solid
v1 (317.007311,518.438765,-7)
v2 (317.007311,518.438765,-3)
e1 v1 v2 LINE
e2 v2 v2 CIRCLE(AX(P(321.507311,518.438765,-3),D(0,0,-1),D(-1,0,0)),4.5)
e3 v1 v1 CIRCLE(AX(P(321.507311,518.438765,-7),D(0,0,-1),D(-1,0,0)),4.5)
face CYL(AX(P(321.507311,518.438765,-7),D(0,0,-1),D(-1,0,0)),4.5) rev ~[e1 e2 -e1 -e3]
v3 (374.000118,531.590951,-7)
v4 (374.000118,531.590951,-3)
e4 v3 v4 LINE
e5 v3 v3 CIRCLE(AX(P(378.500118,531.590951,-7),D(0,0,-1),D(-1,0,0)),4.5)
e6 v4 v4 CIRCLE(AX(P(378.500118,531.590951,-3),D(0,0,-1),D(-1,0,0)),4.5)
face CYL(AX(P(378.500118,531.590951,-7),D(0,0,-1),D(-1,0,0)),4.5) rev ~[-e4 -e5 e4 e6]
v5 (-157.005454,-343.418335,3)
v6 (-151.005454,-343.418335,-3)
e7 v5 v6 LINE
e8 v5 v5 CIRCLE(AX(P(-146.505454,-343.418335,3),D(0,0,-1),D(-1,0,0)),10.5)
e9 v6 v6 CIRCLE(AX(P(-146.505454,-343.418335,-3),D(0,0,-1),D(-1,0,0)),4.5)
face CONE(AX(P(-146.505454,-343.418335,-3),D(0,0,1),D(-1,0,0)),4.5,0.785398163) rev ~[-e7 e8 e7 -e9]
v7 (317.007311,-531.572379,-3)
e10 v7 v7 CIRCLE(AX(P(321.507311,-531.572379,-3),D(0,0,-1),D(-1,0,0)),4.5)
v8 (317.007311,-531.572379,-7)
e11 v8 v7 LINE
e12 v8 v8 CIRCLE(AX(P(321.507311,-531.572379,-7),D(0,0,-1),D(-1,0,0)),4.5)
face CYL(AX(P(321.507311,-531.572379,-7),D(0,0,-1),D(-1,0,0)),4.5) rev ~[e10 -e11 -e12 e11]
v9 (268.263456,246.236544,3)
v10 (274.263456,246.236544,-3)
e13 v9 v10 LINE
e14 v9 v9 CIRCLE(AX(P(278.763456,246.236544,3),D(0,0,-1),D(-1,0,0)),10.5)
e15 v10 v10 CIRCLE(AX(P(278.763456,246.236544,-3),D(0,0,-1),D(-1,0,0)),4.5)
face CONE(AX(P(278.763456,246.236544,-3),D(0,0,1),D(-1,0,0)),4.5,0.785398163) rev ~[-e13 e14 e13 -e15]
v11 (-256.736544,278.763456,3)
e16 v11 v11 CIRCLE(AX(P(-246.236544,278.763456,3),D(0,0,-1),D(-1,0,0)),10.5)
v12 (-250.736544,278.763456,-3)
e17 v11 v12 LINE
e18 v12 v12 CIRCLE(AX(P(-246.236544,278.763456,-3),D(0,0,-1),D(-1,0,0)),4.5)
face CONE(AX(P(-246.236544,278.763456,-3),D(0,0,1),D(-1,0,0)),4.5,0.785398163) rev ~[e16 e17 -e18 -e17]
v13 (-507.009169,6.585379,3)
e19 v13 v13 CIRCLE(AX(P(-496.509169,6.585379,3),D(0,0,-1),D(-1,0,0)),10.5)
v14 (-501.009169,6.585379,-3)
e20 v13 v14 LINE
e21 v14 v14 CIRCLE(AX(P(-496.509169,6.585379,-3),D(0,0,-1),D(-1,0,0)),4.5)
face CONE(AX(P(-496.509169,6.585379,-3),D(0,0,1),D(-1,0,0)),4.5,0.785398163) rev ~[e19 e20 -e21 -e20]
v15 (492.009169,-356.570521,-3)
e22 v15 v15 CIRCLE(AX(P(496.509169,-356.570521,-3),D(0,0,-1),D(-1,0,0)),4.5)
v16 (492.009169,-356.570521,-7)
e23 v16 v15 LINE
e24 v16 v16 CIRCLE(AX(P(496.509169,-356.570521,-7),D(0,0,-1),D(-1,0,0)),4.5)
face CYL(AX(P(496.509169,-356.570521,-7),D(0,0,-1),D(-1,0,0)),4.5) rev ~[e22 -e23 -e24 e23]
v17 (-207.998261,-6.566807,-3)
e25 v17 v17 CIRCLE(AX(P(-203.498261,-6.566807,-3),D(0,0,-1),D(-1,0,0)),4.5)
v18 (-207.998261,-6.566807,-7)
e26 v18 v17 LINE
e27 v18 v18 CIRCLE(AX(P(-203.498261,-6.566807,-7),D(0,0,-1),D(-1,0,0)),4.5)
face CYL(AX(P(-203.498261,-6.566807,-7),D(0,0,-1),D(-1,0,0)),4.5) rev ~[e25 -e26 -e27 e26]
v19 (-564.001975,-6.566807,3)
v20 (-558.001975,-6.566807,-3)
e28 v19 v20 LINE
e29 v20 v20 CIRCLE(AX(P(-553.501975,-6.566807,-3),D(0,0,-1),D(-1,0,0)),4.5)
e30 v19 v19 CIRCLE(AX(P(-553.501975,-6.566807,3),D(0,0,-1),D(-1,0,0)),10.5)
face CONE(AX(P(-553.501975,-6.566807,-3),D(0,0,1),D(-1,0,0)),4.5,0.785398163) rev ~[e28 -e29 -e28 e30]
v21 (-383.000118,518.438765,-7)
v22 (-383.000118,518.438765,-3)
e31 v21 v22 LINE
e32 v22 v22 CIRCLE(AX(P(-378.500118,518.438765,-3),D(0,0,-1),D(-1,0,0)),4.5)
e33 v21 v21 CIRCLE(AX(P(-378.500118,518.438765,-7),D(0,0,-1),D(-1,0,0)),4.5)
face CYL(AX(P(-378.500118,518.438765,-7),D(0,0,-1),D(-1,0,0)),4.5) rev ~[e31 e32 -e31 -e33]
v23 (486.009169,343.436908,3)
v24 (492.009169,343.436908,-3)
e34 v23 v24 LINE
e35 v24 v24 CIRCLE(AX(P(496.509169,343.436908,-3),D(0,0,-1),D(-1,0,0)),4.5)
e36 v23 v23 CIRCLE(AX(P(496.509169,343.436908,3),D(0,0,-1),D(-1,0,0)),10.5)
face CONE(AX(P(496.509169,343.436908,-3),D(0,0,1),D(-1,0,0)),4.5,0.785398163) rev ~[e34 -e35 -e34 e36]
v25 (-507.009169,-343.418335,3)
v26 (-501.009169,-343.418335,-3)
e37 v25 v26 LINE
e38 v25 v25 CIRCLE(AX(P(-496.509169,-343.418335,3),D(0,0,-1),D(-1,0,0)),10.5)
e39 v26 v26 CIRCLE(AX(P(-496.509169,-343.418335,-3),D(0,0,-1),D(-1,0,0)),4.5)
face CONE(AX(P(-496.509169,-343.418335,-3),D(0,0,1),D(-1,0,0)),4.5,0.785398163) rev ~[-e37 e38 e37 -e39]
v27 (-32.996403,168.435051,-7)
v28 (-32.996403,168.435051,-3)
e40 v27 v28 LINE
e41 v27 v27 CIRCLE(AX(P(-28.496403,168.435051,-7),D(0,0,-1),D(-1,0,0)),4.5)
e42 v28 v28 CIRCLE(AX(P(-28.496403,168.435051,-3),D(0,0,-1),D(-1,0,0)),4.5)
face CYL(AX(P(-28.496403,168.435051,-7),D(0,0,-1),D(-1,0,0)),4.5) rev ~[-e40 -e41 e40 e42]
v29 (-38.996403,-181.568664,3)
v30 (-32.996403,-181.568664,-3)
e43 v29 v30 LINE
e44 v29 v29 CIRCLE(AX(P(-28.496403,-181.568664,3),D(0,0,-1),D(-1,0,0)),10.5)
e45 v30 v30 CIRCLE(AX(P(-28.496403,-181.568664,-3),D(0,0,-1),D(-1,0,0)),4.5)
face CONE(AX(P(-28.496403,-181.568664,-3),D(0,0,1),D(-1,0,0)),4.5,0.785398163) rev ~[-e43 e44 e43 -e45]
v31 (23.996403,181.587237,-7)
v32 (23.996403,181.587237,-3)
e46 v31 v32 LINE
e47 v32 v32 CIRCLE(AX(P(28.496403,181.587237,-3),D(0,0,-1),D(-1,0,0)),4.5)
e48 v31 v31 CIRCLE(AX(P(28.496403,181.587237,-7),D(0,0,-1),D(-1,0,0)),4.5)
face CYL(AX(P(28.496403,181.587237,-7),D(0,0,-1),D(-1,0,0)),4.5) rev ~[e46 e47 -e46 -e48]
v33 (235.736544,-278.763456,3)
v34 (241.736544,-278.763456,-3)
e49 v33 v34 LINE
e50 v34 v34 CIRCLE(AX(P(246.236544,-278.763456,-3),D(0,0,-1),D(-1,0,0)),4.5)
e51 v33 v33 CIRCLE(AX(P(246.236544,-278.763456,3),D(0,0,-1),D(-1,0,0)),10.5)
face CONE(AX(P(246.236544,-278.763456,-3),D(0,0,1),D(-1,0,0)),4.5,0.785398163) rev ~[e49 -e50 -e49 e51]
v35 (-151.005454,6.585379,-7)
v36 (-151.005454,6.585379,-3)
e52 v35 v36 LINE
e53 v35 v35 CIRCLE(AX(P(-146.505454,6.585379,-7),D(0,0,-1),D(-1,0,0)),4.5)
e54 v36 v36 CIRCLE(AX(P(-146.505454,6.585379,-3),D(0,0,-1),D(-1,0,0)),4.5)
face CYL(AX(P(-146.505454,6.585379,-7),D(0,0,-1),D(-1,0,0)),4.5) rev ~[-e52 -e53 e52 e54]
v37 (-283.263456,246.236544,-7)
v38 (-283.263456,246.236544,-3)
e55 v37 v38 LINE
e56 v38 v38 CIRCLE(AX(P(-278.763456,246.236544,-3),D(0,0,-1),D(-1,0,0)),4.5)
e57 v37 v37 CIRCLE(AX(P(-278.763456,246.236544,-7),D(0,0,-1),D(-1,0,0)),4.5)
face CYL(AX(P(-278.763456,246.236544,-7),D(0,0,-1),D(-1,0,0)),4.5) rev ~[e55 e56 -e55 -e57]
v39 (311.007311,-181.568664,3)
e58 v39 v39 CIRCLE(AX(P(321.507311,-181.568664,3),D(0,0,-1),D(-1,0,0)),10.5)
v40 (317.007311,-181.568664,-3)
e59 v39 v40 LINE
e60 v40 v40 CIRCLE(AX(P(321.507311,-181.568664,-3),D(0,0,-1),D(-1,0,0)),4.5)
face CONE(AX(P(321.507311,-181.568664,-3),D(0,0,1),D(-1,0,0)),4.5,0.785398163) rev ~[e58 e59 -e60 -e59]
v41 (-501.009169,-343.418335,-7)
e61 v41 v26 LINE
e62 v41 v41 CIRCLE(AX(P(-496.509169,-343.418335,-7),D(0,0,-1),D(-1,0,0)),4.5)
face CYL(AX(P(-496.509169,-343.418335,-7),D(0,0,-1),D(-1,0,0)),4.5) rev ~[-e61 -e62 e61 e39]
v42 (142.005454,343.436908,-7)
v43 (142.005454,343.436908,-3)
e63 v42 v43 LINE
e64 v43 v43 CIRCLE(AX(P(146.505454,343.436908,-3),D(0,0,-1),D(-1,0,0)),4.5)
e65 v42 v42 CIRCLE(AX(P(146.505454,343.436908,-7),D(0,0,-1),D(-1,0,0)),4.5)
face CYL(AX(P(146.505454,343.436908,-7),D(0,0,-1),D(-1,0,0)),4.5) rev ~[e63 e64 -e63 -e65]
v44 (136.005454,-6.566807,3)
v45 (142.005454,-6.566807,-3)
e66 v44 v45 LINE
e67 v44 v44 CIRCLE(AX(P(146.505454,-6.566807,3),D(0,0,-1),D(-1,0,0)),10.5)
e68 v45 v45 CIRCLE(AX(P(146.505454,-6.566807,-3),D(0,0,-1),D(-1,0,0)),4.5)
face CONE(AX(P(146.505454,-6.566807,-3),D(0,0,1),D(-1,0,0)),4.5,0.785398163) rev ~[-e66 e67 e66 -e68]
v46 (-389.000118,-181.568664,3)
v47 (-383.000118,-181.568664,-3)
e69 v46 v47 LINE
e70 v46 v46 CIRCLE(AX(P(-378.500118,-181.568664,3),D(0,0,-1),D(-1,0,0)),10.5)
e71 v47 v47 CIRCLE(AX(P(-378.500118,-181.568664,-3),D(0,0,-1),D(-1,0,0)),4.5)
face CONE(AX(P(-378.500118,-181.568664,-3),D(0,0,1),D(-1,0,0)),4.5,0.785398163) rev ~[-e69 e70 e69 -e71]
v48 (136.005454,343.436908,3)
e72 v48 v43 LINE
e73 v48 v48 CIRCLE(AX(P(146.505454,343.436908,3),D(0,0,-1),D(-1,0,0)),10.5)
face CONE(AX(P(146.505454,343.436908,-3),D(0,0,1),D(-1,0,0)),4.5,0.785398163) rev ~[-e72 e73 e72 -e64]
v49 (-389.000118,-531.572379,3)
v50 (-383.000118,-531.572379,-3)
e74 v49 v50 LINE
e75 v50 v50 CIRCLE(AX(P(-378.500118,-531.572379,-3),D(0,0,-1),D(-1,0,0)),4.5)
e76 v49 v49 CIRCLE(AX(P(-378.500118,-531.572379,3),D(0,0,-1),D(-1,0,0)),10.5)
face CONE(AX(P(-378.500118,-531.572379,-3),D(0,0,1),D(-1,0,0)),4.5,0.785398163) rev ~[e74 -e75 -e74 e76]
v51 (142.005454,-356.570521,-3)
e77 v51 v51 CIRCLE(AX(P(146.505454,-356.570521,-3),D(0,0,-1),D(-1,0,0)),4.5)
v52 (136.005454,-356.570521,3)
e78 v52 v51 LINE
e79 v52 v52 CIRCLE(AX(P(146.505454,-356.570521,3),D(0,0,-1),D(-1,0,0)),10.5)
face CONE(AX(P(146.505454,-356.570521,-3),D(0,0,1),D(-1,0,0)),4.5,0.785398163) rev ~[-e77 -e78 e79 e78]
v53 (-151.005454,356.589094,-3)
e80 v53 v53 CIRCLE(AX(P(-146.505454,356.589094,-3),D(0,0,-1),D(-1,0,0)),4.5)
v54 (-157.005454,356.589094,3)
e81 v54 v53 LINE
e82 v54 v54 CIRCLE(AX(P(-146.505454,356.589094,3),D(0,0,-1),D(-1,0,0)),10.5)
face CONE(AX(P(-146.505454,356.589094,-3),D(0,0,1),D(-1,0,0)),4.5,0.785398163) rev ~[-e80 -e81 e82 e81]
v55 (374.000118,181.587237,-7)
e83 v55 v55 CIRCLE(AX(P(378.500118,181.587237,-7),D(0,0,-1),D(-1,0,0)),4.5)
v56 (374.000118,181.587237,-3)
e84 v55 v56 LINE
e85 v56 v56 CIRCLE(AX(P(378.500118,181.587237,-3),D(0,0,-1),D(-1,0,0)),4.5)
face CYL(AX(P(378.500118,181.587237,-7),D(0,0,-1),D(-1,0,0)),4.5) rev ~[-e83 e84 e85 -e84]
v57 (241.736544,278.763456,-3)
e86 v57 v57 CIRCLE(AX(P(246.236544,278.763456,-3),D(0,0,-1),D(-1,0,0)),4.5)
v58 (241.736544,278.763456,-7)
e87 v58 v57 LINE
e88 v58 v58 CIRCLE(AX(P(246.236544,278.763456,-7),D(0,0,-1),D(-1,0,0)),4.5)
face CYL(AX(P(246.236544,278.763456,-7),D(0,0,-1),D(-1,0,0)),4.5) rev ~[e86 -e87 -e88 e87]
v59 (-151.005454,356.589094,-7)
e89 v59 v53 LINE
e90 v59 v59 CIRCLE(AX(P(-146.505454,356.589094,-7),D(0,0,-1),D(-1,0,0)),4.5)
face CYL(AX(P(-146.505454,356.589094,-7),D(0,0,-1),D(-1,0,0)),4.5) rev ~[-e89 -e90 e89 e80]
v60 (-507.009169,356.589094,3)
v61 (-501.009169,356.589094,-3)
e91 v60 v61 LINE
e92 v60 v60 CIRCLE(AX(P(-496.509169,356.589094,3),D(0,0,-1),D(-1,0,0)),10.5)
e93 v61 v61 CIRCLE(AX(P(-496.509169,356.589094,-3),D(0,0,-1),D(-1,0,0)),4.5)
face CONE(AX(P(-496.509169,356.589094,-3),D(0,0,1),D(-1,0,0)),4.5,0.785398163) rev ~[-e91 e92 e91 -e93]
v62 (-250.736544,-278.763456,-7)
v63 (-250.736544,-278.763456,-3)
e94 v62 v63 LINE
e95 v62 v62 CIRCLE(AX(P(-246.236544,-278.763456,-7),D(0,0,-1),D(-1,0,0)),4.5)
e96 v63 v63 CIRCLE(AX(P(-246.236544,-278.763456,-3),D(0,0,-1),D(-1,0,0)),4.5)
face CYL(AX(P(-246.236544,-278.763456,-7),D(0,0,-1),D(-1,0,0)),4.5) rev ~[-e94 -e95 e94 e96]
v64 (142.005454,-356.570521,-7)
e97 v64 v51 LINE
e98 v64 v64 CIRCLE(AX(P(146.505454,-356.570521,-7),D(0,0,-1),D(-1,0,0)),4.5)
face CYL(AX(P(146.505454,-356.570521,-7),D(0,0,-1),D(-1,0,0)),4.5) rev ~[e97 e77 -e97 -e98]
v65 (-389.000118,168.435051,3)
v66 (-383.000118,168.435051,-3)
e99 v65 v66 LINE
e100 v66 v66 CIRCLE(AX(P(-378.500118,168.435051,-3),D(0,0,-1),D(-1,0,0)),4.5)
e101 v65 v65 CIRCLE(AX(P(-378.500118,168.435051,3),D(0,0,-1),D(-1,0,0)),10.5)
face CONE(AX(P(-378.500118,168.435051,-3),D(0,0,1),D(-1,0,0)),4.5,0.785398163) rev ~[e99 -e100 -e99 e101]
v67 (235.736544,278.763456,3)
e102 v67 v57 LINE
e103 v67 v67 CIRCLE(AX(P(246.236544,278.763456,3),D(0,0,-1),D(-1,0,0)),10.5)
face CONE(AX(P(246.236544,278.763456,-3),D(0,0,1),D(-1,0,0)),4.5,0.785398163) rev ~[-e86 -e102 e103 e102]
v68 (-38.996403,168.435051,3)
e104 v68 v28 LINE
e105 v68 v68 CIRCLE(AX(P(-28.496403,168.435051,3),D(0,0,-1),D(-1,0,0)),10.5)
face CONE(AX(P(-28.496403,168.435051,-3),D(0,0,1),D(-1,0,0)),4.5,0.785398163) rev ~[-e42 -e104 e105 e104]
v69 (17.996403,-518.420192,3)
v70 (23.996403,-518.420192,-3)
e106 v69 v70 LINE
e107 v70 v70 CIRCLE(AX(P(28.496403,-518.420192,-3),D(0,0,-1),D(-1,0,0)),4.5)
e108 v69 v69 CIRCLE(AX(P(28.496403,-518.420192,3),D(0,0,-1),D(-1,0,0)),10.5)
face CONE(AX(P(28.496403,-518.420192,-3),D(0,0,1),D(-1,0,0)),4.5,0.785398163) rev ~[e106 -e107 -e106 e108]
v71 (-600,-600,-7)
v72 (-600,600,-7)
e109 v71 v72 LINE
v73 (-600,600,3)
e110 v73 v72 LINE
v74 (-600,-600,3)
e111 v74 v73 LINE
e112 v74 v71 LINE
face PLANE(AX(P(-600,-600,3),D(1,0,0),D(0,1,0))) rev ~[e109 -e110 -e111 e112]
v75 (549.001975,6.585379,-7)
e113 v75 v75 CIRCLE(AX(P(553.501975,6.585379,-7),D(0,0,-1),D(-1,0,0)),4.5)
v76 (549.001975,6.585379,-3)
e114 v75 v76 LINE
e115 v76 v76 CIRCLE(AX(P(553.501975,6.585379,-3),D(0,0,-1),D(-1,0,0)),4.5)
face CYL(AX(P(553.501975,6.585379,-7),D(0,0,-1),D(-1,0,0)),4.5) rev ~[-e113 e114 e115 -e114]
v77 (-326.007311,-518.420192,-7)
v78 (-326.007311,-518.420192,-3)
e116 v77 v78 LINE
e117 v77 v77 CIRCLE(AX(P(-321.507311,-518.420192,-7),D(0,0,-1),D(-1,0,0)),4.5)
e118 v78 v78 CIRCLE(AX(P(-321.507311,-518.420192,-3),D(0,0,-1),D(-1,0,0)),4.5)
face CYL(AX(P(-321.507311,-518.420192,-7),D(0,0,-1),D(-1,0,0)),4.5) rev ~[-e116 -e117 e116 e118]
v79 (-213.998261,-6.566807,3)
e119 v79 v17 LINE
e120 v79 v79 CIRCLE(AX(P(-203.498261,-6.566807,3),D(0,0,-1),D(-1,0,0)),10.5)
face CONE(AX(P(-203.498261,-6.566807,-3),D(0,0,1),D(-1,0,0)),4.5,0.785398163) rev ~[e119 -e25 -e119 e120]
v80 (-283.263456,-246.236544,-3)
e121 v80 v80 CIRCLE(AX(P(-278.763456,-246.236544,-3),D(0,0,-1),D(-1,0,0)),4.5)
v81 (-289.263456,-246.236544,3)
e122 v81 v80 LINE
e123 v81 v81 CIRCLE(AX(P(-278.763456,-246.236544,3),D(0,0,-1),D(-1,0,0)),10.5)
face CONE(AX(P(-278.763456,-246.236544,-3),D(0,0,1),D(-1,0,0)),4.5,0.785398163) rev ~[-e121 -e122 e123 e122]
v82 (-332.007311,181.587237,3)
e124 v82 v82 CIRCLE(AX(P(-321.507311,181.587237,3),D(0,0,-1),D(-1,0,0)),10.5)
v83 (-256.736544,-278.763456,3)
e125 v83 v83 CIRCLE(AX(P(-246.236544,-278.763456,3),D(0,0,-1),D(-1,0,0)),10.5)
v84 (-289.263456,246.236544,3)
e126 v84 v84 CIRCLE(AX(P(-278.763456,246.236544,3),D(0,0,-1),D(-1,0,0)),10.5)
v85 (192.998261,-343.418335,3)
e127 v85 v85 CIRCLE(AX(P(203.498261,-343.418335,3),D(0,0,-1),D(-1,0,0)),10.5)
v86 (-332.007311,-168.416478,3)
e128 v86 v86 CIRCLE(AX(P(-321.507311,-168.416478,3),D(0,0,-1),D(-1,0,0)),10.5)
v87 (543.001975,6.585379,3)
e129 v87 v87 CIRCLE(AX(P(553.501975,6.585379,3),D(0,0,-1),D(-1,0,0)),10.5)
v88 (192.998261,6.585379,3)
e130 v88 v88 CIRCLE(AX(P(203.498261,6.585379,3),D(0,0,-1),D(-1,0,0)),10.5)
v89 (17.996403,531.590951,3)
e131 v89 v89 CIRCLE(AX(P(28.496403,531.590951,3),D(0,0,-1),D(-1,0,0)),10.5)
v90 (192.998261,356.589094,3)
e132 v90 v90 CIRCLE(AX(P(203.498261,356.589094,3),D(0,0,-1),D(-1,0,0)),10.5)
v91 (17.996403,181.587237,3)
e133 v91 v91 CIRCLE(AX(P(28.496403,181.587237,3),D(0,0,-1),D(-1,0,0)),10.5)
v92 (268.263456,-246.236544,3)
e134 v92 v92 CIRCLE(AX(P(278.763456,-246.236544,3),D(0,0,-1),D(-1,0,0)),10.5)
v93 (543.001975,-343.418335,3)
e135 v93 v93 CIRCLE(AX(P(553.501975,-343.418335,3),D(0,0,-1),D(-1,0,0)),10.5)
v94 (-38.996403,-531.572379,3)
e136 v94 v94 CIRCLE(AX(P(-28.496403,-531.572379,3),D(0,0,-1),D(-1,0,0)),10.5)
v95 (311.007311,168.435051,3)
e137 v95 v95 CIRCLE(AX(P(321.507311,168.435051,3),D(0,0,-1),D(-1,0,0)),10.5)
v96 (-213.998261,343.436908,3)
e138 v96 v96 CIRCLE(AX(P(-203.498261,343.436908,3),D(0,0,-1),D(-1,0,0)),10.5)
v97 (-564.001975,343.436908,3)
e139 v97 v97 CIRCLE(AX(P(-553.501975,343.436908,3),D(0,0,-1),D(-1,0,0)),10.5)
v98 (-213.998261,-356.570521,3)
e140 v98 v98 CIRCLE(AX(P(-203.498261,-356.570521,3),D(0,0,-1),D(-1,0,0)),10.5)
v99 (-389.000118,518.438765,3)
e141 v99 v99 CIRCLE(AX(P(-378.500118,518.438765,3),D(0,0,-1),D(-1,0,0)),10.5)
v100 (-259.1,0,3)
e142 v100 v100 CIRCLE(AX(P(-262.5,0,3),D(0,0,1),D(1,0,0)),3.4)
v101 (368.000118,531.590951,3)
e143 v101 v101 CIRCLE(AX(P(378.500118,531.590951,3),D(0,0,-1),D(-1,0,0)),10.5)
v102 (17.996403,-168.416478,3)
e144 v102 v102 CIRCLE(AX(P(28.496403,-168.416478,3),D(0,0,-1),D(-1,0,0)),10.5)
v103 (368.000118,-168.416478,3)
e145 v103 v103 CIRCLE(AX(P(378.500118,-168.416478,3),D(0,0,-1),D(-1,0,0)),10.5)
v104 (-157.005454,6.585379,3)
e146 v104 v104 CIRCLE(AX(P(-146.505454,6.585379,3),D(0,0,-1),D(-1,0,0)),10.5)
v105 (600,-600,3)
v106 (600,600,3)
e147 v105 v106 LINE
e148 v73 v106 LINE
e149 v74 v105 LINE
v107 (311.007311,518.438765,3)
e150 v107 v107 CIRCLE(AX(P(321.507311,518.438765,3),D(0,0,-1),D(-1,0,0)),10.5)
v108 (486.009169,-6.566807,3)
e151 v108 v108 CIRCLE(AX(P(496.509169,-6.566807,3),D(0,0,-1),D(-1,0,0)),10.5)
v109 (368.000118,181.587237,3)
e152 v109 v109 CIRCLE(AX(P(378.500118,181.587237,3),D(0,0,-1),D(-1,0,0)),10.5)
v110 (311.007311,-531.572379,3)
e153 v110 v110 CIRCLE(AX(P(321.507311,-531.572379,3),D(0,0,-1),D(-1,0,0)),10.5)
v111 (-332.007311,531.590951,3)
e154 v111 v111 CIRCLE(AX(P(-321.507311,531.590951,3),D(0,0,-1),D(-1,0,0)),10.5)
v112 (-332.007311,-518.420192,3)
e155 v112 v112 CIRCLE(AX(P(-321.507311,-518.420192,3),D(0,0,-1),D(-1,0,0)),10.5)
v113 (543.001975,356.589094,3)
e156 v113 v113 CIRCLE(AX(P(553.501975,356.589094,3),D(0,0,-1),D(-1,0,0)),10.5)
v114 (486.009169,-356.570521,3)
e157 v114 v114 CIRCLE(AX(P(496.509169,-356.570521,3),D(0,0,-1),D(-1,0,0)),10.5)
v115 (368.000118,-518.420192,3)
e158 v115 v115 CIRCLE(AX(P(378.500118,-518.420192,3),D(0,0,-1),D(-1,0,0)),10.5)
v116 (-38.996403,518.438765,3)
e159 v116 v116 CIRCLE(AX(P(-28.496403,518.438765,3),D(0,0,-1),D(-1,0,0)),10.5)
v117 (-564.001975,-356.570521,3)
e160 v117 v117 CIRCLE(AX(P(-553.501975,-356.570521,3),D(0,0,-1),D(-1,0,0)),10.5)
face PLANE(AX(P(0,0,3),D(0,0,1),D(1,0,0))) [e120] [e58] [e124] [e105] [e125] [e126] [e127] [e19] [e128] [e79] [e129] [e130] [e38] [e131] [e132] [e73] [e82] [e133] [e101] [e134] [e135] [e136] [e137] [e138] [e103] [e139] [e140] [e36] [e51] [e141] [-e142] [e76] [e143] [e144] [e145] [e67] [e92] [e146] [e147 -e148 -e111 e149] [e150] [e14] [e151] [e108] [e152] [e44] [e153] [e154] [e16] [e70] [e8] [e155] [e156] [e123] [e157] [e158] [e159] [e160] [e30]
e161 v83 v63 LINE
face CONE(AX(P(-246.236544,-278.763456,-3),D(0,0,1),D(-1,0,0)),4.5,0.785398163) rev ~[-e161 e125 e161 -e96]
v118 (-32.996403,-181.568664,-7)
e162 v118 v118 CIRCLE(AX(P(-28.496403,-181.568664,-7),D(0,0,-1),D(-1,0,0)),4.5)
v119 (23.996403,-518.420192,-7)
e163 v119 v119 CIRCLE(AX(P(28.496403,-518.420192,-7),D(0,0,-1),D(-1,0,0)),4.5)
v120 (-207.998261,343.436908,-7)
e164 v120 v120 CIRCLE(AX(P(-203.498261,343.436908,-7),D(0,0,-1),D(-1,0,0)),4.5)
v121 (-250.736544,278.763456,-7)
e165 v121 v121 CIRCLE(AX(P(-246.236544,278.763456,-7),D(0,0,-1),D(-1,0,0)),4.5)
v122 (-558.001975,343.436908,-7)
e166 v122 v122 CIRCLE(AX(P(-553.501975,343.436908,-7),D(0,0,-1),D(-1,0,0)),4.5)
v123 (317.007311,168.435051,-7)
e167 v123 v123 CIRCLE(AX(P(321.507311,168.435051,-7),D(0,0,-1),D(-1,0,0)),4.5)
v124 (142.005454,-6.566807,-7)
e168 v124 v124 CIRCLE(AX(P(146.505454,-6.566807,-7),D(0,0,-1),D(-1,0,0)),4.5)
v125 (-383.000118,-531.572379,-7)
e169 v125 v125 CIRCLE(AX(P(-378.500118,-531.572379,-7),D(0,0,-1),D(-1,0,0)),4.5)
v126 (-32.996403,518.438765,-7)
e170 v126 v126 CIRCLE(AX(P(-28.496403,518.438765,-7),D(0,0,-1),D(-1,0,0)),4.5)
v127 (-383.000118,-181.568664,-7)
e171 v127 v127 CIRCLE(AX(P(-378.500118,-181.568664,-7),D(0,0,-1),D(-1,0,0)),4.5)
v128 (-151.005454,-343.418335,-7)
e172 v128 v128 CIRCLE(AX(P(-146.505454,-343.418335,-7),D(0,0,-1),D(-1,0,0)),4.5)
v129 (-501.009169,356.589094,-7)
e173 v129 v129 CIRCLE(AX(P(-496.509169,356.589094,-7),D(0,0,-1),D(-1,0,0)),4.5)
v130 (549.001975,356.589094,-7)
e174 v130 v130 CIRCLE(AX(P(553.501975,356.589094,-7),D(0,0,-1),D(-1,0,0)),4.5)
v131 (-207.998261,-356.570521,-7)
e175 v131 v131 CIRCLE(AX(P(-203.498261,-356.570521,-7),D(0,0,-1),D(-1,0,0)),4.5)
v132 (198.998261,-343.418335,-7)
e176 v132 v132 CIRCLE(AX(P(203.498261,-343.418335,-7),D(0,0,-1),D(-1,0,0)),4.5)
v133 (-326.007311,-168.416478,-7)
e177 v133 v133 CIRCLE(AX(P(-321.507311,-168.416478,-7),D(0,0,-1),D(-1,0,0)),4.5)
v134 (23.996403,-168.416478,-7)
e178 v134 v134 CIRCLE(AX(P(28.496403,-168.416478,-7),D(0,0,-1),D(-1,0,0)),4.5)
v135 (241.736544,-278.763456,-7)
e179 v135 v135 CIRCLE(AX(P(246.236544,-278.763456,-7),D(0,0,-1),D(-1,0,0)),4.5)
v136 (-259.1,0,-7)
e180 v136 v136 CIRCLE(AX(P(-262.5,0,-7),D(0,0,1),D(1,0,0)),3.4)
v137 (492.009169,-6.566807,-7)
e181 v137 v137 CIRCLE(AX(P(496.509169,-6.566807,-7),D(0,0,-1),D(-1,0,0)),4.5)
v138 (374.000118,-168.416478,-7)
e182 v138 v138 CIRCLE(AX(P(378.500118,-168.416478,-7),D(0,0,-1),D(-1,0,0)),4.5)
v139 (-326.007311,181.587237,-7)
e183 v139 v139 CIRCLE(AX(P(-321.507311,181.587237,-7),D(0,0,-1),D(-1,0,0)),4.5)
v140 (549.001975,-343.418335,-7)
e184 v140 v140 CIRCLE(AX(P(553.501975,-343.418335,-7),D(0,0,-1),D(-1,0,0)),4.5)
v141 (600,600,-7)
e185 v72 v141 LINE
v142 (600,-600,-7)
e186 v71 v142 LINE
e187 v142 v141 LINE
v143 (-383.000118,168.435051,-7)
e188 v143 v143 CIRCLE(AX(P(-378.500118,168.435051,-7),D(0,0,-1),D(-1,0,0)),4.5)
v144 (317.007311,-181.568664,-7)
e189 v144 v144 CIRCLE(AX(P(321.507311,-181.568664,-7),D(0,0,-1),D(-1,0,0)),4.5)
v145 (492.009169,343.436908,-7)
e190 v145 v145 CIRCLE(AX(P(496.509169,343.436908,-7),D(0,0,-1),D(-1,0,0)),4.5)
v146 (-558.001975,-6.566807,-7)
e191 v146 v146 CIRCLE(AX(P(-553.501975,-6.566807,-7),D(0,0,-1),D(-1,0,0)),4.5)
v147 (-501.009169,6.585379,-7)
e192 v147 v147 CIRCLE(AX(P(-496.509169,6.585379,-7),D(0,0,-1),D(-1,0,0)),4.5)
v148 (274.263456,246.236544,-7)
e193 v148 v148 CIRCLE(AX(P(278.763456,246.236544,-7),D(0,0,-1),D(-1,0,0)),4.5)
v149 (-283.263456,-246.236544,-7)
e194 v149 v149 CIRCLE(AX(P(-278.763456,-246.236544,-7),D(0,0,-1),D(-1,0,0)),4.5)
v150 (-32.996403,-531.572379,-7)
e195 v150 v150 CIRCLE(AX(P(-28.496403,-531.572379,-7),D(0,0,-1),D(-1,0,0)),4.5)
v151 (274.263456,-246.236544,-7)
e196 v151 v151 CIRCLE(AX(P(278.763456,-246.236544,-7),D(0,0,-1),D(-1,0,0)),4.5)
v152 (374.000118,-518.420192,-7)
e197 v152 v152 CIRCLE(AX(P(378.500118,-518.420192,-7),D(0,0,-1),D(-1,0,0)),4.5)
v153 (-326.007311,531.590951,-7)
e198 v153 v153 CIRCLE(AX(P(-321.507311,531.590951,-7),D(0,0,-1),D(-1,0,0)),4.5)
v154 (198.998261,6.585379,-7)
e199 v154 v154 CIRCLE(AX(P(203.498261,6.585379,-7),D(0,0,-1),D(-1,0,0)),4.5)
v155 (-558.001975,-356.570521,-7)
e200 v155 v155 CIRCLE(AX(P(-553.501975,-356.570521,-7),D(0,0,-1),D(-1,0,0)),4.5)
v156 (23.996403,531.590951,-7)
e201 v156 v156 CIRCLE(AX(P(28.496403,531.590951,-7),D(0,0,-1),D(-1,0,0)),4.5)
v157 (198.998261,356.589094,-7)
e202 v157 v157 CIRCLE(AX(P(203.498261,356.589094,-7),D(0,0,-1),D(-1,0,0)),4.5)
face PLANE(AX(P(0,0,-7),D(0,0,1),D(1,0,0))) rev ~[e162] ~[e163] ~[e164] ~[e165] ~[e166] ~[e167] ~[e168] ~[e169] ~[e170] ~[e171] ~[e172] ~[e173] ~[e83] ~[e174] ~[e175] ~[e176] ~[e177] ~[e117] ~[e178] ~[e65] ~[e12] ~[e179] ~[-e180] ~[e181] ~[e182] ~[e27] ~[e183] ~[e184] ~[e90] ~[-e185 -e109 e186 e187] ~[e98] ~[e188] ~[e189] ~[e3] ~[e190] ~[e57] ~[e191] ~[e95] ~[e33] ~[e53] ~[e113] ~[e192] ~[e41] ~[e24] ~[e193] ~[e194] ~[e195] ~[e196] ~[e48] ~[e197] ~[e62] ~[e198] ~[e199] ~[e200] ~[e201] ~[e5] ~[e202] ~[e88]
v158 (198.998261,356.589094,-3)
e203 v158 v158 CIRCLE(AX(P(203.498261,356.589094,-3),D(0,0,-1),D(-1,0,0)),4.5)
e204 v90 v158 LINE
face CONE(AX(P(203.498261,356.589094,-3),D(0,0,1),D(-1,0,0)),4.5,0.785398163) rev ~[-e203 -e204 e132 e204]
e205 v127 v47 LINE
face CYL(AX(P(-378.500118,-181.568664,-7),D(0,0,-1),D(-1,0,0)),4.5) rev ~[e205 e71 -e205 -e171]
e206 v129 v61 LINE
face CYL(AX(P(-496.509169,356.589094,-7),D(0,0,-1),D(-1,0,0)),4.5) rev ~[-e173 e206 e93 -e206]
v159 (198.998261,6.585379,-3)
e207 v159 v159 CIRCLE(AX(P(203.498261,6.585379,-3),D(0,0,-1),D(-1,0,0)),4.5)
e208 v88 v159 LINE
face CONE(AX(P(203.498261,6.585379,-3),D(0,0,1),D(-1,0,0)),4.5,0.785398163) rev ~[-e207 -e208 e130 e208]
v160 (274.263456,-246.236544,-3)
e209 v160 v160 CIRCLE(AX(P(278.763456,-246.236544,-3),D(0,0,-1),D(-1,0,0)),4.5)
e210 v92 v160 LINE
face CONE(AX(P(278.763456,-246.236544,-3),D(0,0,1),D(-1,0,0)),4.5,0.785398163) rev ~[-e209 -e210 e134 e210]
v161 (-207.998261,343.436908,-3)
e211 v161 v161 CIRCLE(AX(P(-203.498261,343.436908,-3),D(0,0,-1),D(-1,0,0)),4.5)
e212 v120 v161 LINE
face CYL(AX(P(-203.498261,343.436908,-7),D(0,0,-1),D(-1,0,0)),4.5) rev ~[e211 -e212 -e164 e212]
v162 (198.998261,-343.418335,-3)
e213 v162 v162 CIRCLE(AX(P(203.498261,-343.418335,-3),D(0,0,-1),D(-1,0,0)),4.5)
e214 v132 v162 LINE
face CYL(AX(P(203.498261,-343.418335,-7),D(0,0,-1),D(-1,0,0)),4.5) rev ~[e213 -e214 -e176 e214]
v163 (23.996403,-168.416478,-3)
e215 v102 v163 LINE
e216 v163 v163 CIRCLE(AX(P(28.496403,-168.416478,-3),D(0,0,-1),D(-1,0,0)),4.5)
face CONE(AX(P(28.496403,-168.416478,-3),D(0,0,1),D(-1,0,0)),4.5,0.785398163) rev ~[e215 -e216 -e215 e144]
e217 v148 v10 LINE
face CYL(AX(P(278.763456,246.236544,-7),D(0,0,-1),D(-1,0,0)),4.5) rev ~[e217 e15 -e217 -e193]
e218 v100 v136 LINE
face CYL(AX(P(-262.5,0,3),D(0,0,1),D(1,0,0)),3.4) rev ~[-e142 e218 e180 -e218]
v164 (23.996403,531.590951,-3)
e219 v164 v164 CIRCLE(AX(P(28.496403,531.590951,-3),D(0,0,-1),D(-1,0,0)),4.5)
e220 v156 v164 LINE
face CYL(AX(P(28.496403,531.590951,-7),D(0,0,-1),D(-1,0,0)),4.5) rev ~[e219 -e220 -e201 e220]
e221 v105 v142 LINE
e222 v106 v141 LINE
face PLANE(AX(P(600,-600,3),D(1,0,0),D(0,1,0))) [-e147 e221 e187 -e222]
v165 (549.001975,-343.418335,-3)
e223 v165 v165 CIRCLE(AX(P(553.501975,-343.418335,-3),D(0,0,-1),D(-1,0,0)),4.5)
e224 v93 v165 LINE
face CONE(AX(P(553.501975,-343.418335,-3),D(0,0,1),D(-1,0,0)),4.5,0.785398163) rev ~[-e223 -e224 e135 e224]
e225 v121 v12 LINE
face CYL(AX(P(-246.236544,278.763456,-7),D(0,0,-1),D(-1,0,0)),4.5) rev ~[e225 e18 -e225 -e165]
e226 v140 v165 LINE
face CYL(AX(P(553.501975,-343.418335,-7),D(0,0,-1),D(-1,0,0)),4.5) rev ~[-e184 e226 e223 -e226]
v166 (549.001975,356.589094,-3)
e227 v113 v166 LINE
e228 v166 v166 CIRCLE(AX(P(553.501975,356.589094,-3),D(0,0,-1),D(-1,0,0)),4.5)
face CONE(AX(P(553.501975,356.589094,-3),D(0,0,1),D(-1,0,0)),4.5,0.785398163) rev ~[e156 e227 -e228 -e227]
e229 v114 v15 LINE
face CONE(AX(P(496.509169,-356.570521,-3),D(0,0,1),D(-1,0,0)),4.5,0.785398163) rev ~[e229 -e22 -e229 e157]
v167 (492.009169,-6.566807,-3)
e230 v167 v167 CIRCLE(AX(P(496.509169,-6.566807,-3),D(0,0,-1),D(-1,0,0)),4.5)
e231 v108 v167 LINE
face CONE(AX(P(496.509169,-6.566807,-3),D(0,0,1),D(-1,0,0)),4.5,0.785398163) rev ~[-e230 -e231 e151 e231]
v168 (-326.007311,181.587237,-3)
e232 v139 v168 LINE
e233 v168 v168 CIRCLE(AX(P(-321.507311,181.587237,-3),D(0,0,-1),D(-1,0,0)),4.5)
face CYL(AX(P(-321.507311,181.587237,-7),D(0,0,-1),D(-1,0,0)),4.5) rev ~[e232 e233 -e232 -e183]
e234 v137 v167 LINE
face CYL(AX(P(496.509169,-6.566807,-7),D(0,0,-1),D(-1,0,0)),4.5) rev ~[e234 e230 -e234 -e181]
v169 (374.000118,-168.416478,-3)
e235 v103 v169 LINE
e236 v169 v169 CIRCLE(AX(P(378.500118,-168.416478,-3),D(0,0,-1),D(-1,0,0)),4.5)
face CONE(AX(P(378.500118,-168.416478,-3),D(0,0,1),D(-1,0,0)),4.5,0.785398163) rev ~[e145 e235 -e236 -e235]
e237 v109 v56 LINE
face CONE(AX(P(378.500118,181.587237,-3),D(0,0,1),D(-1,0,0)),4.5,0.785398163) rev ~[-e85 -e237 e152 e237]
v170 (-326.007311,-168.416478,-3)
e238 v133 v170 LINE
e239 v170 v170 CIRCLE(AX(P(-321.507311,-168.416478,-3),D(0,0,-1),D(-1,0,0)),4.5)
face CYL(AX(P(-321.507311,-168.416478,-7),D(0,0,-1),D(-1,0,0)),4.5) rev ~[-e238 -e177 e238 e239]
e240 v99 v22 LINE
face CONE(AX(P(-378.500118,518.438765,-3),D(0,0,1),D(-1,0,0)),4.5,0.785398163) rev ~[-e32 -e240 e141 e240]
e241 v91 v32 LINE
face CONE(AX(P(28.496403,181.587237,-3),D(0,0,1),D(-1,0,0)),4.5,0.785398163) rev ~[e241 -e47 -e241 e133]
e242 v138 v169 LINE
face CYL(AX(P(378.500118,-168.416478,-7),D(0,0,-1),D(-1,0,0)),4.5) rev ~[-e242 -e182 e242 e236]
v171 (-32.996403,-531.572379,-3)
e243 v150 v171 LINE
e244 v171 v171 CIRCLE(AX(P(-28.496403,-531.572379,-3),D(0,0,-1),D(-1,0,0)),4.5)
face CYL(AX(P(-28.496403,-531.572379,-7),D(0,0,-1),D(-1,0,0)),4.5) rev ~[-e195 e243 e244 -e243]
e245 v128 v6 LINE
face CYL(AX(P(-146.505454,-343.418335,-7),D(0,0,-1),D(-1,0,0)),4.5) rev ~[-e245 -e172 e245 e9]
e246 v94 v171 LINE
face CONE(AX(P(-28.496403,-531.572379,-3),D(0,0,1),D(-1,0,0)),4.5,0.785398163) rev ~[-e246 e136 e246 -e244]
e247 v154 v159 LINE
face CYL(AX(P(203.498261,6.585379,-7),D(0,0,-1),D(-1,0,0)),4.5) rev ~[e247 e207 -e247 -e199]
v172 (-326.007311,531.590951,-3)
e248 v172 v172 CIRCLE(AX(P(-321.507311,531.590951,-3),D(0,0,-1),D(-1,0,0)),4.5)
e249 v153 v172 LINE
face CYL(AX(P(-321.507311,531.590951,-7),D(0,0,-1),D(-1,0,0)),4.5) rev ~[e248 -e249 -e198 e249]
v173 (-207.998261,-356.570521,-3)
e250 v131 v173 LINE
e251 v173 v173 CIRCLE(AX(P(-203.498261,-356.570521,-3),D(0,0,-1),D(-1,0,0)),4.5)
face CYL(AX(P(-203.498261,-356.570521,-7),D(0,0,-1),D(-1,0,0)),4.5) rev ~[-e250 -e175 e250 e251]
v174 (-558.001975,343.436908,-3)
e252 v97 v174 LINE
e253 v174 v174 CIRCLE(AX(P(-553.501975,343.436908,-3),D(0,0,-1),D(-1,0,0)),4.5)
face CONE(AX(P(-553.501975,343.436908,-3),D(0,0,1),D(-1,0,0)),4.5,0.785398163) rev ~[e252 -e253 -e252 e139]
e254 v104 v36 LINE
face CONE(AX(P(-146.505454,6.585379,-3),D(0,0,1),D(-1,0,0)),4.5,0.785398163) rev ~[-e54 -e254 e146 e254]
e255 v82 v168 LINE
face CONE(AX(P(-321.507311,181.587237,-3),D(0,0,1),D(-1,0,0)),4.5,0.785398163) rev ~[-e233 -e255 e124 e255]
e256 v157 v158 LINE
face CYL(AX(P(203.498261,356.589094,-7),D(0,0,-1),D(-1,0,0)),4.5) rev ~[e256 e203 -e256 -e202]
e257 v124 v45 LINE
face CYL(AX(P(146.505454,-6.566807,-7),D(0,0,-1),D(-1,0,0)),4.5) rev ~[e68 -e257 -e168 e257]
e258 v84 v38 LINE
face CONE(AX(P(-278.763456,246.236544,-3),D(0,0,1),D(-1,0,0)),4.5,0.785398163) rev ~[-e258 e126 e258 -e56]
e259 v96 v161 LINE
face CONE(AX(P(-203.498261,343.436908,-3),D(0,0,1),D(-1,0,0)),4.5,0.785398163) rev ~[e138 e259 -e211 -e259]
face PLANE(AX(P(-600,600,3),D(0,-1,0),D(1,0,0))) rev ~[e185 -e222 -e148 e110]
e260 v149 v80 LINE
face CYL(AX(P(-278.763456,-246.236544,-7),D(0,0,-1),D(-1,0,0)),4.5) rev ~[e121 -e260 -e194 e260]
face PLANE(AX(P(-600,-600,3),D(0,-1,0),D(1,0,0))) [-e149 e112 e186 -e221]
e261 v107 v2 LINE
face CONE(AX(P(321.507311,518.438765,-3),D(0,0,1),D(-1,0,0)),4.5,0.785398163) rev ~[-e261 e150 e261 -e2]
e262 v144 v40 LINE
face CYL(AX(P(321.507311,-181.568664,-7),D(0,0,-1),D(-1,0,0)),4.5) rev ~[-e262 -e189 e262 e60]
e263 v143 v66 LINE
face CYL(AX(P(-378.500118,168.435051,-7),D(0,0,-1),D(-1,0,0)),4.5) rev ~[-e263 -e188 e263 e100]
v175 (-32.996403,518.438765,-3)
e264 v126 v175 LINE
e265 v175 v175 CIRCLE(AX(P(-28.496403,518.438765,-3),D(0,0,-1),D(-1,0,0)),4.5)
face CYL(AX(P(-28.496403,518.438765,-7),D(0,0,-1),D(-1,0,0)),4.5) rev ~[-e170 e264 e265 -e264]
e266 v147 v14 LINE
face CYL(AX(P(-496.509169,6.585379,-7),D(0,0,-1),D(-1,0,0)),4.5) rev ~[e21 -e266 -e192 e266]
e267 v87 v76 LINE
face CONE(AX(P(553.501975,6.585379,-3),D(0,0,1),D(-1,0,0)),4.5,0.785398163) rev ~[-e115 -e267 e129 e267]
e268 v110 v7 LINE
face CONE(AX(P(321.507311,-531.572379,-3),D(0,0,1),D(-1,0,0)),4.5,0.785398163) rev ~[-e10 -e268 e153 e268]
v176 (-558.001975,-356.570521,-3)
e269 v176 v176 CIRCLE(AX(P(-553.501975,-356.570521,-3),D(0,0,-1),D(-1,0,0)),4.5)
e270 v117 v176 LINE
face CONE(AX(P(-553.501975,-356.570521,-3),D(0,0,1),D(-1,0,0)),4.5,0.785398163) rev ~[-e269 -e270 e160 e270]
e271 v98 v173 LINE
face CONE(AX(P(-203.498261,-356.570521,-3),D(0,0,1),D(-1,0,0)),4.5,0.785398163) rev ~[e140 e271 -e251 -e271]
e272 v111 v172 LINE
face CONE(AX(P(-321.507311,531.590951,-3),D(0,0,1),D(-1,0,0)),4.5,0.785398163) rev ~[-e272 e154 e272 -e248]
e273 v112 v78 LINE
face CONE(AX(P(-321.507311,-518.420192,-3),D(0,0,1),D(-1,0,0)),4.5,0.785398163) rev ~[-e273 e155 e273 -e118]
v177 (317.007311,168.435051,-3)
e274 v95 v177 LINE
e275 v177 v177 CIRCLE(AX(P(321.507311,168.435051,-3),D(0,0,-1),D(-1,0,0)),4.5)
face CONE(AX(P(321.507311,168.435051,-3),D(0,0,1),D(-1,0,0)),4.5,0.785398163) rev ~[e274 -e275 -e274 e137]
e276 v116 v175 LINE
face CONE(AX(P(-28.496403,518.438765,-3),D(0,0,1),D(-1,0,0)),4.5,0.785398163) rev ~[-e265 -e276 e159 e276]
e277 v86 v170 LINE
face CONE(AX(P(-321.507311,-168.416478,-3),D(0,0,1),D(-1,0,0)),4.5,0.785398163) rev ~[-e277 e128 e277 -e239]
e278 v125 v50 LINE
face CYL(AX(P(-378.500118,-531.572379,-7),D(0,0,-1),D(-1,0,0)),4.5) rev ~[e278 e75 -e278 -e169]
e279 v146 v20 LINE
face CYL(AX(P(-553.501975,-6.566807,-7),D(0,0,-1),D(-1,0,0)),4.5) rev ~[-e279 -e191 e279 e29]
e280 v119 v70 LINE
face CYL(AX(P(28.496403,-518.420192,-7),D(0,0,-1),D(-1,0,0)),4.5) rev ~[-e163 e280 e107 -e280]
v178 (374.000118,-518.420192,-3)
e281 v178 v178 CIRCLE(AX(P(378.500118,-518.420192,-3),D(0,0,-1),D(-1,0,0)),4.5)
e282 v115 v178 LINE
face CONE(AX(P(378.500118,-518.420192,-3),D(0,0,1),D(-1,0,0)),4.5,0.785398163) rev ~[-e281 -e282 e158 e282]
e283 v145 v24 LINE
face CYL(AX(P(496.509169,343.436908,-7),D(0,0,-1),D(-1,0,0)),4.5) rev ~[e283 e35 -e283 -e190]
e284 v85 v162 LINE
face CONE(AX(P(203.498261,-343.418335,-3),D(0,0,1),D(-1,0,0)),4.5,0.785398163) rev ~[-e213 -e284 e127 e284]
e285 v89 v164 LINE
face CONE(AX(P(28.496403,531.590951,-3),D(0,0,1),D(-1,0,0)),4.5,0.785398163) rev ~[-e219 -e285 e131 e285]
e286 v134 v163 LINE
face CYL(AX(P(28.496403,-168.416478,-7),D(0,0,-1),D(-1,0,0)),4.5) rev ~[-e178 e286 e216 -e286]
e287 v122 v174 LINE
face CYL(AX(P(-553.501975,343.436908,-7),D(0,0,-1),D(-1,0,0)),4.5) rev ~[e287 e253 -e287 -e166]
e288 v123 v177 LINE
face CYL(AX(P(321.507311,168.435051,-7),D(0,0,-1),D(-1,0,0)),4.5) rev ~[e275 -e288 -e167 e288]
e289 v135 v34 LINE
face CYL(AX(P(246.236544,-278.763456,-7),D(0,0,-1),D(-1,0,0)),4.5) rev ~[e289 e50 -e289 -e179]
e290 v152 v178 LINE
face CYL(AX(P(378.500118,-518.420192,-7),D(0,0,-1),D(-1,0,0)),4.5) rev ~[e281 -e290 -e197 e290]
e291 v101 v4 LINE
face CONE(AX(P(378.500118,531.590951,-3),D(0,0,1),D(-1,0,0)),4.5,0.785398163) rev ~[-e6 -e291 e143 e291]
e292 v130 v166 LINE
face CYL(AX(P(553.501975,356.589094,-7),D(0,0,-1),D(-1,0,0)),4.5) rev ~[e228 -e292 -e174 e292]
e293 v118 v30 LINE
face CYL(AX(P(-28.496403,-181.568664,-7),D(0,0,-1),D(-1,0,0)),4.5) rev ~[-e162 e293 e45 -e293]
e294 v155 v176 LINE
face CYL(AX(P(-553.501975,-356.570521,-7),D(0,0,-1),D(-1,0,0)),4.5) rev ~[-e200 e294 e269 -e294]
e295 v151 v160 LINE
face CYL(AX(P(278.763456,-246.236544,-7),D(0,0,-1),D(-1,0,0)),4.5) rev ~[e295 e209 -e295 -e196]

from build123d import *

# Parameters (mm, degrees)
BOSS_EXTRUDE1_START = 3
SKETCH1_W           = 1200
SKETCH1_H           = 1200
BOSS_EXTRUDE1_DEPTH = 10
SKETCH2_R           = 4.5
CUT_EXTRUDE1_DEPTH  = 11
CHAMFER1_SIZE       = 6
CUT_EXTRUDE2_REACH  = 12
SKETCH3_R           = 3.4


with BuildPart() as part:
    # Sketch1 → Boss-Extrude1 (new body)
    with BuildSketch(Plane.XY.offset(BOSS_EXTRUDE1_START)):
        Rectangle(SKETCH1_W, SKETCH1_H)
    extrude(amount=-BOSS_EXTRUDE1_DEPTH)

    # Sketch2 → Cut-Extrude1 (cut, through all)
    with BuildSketch(Plane(origin=(0, 0, -7), x_dir=(-1, 0, 0), z_dir=(0, 0, -1))):
        with Locations((246.236544033, -278.763455967)):
            Circle(SKETCH2_R)
        with Locations((278.763455967, -246.236544033)):
            Circle(SKETCH2_R)
        with Locations((-246.236544033, -278.763455967)):
            Circle(SKETCH2_R)
        with Locations((-278.763455967, -246.236544033)):
            Circle(SKETCH2_R)
        with Locations((-278.763455967, 246.236544033)):
            Circle(SKETCH2_R)
        with Locations((-246.236544033, 278.763455967)):
            Circle(SKETCH2_R)
        with Locations((278.763455967, 246.236544033)):
            Circle(SKETCH2_R)
        with Locations((246.236544033, 278.763455967)):
            Circle(SKETCH2_R)
        with Locations((378.500117834, -531.572378513)):
            Circle(SKETCH2_R)
        with Locations((321.50731127, -518.420192383)):
            Circle(SKETCH2_R)
        with Locations((553.501975109, -356.570521237)):
            Circle(SKETCH2_R)
        with Locations((496.509168546, -343.418335107)):
            Circle(SKETCH2_R)
        with Locations((28.496403282, -531.572378513)):
            Circle(SKETCH2_R)
        with Locations((-28.496403282, -518.420192383)):
            Circle(SKETCH2_R)
        with Locations((203.498260558, -356.570521237)):
            Circle(SKETCH2_R)
        with Locations((146.505453994, -343.418335107)):
            Circle(SKETCH2_R)
        with Locations((378.500117834, -181.568663962)):
            Circle(SKETCH2_R)
        with Locations((321.50731127, -168.416477832)):
            Circle(SKETCH2_R)
        with Locations((553.501975109, -6.566806686)):
            Circle(SKETCH2_R)
        with Locations((496.509168546, 6.585379444)):
            Circle(SKETCH2_R)
        with Locations((553.501975109, 343.436907866)):
            Circle(SKETCH2_R)
        with Locations((496.509168546, 356.589093996)):
            Circle(SKETCH2_R)
        with Locations((378.500117834, 518.438765142)):
            Circle(SKETCH2_R)
        with Locations((321.50731127, 531.590951272)):
            Circle(SKETCH2_R)
        with Locations((378.500117834, 168.43505059)):
            Circle(SKETCH2_R)
        with Locations((321.50731127, 181.58723672)):
            Circle(SKETCH2_R)
        with Locations((203.498260558, 343.436907866)):
            Circle(SKETCH2_R)
        with Locations((146.505453994, 356.589093996)):
            Circle(SKETCH2_R)
        with Locations((203.498260558, -6.566806686)):
            Circle(SKETCH2_R)
        with Locations((146.505453994, 6.585379444)):
            Circle(SKETCH2_R)
        with Locations((28.496403282, 168.43505059)):
            Circle(SKETCH2_R)
        with Locations((-28.496403282, 181.58723672)):
            Circle(SKETCH2_R)
        with Locations((28.496403282, -181.568663962)):
            Circle(SKETCH2_R)
        with Locations((-28.496403282, -168.416477832)):
            Circle(SKETCH2_R)
        with Locations((-146.505453994, -6.566806686)):
            Circle(SKETCH2_R)
        with Locations((-203.498260558, 6.585379444)):
            Circle(SKETCH2_R)
        with Locations((-146.505453994, -356.570521237)):
            Circle(SKETCH2_R)
        with Locations((-203.498260558, -343.418335107)):
            Circle(SKETCH2_R)
        with Locations((-321.50731127, -181.568663962)):
            Circle(SKETCH2_R)
        with Locations((-378.500117834, -168.416477832)):
            Circle(SKETCH2_R)
        with Locations((-553.501975109, -343.418335107)):
            Circle(SKETCH2_R)
        with Locations((-496.509168546, -356.570521237)):
            Circle(SKETCH2_R)
        with Locations((-378.500117834, -518.420192383)):
            Circle(SKETCH2_R)
        with Locations((-321.50731127, -531.572378513)):
            Circle(SKETCH2_R)
        with Locations((28.496403282, 518.438765142)):
            Circle(SKETCH2_R)
        with Locations((-28.496403282, 531.590951272)):
            Circle(SKETCH2_R)
        with Locations((-321.50731127, 518.438765142)):
            Circle(SKETCH2_R)
        with Locations((-378.500117834, 531.590951272)):
            Circle(SKETCH2_R)
        with Locations((-146.505453994, 343.436907866)):
            Circle(SKETCH2_R)
        with Locations((-203.498260558, 356.589093996)):
            Circle(SKETCH2_R)
        with Locations((-496.509168546, 343.436907866)):
            Circle(SKETCH2_R)
        with Locations((-553.501975109, 356.589093996)):
            Circle(SKETCH2_R)
        with Locations((-321.50731127, 168.43505059)):
            Circle(SKETCH2_R)
        with Locations((-378.500117834, 181.58723672)):
            Circle(SKETCH2_R)
        with Locations((-496.509168546, -6.566806686)):
            Circle(SKETCH2_R)
        with Locations((-553.501975109, 6.585379444)):
            Circle(SKETCH2_R)
    extrude(amount=-CUT_EXTRUDE1_DEPTH, mode=Mode.SUBTRACT)

    # Chamfer1
    chamfer1_edges = [part.edges().sort_by_distance(p)[0] for p in [
        (-549.001975109, 343.436907866, 3),
        (-492.009168546, 6.585379444, 3),
        (-549.001975109, -6.566806686, 3),
        (-317.00731127, -168.416477832, 3),
        (-142.005453994, 6.585379444, 3),
        (-23.996403282, 168.43505059, 3),
        (32.996403282, 181.58723672, 3),
        (-23.996403282, -181.568663962, 3),
        (-317.00731127, 181.58723672, 3),
        (-198.998260558, 343.436907866, 3),
        (-142.005453994, 356.589093996, 3),
        (-198.998260558, -6.566806686, 3),
        (250.736544033, 278.763455967, 3),
        (-274.263455967, 246.236544033, 3),
        (-241.736544033, 278.763455967, 3),
        (-374.000117834, -531.572378513, 3),
        (283.263455967, 246.236544033, 3),
        (283.263455967, -246.236544033, 3),
        (250.736544033, -278.763455967, 3),
        (-274.263455967, -246.236544033, 3),
        (-374.000117834, -181.568663962, 3),
        (-142.005453994, -343.418335107, 3),
        (-198.998260558, -356.570521237, 3),
        (32.996403282, -518.420192383, 3),
        (-317.00731127, -518.420192383, 3),
        (-549.001975109, -356.570521237, 3),
        (-492.009168546, -343.418335107, 3),
        (-23.996403282, -531.572378513, 3),
        (326.00731127, 168.43505059, 3),
        (558.001975109, 356.589093996, 3),
        (501.009168546, 343.436907866, 3),
        (207.998260558, 356.589093996, 3),
        (383.000117834, 181.58723672, 3),
        (501.009168546, -6.566806686, 3),
        (558.001975109, 6.585379444, 3),
        (558.001975109, -343.418335107, 3),
        (383.000117834, -168.416477832, 3),
        (326.00731127, -181.568663962, 3),
        (207.998260558, -343.418335107, 3),
        (32.996403282, -168.416477832, 3),
        (151.005453994, -6.566806686, 3),
        (207.998260558, 6.585379444, 3),
        (151.005453994, -356.570521237, 3),
        (32.996403282, 531.590951272, 3),
        (326.00731127, 518.438765142, 3),
        (383.000117834, 531.590951272, 3),
        (151.005453994, 343.436907866, 3),
        (-23.996403282, 518.438765142, 3),
        (326.00731127, -531.572378513, 3),
        (383.000117834, -518.420192383, 3),
        (501.009168546, -356.570521237, 3),
        (-241.736544033, -278.763455967, 3),
        (-492.009168546, 356.589093996, 3),
        (-374.000117834, 518.438765142, 3),
        (-317.00731127, 531.590951272, 3),
        (-374.000117834, 168.43505059, 3),
    ]]
    chamfer(chamfer1_edges, length=CHAMFER1_SIZE)

    # Sketch3 → Cut-Extrude2 (cut, up to next)
    with BuildSketch(Plane.XY.offset(3), mode=Mode.PRIVATE) as cut_extrude2_sk1:
        with Locations((-262.5, 0)):
            Circle(SKETCH3_R)
    cut_extrude2_tool1 = extrude(cut_extrude2_sk1.sketch, amount=-CUT_EXTRUDE2_REACH, mode=Mode.PRIVATE) & part.part
    add(cut_extrude2_tool1.solids().sort_by_distance((-262.5, 0, 3))[0], mode=Mode.SUBTRACT)


solid = part.part
